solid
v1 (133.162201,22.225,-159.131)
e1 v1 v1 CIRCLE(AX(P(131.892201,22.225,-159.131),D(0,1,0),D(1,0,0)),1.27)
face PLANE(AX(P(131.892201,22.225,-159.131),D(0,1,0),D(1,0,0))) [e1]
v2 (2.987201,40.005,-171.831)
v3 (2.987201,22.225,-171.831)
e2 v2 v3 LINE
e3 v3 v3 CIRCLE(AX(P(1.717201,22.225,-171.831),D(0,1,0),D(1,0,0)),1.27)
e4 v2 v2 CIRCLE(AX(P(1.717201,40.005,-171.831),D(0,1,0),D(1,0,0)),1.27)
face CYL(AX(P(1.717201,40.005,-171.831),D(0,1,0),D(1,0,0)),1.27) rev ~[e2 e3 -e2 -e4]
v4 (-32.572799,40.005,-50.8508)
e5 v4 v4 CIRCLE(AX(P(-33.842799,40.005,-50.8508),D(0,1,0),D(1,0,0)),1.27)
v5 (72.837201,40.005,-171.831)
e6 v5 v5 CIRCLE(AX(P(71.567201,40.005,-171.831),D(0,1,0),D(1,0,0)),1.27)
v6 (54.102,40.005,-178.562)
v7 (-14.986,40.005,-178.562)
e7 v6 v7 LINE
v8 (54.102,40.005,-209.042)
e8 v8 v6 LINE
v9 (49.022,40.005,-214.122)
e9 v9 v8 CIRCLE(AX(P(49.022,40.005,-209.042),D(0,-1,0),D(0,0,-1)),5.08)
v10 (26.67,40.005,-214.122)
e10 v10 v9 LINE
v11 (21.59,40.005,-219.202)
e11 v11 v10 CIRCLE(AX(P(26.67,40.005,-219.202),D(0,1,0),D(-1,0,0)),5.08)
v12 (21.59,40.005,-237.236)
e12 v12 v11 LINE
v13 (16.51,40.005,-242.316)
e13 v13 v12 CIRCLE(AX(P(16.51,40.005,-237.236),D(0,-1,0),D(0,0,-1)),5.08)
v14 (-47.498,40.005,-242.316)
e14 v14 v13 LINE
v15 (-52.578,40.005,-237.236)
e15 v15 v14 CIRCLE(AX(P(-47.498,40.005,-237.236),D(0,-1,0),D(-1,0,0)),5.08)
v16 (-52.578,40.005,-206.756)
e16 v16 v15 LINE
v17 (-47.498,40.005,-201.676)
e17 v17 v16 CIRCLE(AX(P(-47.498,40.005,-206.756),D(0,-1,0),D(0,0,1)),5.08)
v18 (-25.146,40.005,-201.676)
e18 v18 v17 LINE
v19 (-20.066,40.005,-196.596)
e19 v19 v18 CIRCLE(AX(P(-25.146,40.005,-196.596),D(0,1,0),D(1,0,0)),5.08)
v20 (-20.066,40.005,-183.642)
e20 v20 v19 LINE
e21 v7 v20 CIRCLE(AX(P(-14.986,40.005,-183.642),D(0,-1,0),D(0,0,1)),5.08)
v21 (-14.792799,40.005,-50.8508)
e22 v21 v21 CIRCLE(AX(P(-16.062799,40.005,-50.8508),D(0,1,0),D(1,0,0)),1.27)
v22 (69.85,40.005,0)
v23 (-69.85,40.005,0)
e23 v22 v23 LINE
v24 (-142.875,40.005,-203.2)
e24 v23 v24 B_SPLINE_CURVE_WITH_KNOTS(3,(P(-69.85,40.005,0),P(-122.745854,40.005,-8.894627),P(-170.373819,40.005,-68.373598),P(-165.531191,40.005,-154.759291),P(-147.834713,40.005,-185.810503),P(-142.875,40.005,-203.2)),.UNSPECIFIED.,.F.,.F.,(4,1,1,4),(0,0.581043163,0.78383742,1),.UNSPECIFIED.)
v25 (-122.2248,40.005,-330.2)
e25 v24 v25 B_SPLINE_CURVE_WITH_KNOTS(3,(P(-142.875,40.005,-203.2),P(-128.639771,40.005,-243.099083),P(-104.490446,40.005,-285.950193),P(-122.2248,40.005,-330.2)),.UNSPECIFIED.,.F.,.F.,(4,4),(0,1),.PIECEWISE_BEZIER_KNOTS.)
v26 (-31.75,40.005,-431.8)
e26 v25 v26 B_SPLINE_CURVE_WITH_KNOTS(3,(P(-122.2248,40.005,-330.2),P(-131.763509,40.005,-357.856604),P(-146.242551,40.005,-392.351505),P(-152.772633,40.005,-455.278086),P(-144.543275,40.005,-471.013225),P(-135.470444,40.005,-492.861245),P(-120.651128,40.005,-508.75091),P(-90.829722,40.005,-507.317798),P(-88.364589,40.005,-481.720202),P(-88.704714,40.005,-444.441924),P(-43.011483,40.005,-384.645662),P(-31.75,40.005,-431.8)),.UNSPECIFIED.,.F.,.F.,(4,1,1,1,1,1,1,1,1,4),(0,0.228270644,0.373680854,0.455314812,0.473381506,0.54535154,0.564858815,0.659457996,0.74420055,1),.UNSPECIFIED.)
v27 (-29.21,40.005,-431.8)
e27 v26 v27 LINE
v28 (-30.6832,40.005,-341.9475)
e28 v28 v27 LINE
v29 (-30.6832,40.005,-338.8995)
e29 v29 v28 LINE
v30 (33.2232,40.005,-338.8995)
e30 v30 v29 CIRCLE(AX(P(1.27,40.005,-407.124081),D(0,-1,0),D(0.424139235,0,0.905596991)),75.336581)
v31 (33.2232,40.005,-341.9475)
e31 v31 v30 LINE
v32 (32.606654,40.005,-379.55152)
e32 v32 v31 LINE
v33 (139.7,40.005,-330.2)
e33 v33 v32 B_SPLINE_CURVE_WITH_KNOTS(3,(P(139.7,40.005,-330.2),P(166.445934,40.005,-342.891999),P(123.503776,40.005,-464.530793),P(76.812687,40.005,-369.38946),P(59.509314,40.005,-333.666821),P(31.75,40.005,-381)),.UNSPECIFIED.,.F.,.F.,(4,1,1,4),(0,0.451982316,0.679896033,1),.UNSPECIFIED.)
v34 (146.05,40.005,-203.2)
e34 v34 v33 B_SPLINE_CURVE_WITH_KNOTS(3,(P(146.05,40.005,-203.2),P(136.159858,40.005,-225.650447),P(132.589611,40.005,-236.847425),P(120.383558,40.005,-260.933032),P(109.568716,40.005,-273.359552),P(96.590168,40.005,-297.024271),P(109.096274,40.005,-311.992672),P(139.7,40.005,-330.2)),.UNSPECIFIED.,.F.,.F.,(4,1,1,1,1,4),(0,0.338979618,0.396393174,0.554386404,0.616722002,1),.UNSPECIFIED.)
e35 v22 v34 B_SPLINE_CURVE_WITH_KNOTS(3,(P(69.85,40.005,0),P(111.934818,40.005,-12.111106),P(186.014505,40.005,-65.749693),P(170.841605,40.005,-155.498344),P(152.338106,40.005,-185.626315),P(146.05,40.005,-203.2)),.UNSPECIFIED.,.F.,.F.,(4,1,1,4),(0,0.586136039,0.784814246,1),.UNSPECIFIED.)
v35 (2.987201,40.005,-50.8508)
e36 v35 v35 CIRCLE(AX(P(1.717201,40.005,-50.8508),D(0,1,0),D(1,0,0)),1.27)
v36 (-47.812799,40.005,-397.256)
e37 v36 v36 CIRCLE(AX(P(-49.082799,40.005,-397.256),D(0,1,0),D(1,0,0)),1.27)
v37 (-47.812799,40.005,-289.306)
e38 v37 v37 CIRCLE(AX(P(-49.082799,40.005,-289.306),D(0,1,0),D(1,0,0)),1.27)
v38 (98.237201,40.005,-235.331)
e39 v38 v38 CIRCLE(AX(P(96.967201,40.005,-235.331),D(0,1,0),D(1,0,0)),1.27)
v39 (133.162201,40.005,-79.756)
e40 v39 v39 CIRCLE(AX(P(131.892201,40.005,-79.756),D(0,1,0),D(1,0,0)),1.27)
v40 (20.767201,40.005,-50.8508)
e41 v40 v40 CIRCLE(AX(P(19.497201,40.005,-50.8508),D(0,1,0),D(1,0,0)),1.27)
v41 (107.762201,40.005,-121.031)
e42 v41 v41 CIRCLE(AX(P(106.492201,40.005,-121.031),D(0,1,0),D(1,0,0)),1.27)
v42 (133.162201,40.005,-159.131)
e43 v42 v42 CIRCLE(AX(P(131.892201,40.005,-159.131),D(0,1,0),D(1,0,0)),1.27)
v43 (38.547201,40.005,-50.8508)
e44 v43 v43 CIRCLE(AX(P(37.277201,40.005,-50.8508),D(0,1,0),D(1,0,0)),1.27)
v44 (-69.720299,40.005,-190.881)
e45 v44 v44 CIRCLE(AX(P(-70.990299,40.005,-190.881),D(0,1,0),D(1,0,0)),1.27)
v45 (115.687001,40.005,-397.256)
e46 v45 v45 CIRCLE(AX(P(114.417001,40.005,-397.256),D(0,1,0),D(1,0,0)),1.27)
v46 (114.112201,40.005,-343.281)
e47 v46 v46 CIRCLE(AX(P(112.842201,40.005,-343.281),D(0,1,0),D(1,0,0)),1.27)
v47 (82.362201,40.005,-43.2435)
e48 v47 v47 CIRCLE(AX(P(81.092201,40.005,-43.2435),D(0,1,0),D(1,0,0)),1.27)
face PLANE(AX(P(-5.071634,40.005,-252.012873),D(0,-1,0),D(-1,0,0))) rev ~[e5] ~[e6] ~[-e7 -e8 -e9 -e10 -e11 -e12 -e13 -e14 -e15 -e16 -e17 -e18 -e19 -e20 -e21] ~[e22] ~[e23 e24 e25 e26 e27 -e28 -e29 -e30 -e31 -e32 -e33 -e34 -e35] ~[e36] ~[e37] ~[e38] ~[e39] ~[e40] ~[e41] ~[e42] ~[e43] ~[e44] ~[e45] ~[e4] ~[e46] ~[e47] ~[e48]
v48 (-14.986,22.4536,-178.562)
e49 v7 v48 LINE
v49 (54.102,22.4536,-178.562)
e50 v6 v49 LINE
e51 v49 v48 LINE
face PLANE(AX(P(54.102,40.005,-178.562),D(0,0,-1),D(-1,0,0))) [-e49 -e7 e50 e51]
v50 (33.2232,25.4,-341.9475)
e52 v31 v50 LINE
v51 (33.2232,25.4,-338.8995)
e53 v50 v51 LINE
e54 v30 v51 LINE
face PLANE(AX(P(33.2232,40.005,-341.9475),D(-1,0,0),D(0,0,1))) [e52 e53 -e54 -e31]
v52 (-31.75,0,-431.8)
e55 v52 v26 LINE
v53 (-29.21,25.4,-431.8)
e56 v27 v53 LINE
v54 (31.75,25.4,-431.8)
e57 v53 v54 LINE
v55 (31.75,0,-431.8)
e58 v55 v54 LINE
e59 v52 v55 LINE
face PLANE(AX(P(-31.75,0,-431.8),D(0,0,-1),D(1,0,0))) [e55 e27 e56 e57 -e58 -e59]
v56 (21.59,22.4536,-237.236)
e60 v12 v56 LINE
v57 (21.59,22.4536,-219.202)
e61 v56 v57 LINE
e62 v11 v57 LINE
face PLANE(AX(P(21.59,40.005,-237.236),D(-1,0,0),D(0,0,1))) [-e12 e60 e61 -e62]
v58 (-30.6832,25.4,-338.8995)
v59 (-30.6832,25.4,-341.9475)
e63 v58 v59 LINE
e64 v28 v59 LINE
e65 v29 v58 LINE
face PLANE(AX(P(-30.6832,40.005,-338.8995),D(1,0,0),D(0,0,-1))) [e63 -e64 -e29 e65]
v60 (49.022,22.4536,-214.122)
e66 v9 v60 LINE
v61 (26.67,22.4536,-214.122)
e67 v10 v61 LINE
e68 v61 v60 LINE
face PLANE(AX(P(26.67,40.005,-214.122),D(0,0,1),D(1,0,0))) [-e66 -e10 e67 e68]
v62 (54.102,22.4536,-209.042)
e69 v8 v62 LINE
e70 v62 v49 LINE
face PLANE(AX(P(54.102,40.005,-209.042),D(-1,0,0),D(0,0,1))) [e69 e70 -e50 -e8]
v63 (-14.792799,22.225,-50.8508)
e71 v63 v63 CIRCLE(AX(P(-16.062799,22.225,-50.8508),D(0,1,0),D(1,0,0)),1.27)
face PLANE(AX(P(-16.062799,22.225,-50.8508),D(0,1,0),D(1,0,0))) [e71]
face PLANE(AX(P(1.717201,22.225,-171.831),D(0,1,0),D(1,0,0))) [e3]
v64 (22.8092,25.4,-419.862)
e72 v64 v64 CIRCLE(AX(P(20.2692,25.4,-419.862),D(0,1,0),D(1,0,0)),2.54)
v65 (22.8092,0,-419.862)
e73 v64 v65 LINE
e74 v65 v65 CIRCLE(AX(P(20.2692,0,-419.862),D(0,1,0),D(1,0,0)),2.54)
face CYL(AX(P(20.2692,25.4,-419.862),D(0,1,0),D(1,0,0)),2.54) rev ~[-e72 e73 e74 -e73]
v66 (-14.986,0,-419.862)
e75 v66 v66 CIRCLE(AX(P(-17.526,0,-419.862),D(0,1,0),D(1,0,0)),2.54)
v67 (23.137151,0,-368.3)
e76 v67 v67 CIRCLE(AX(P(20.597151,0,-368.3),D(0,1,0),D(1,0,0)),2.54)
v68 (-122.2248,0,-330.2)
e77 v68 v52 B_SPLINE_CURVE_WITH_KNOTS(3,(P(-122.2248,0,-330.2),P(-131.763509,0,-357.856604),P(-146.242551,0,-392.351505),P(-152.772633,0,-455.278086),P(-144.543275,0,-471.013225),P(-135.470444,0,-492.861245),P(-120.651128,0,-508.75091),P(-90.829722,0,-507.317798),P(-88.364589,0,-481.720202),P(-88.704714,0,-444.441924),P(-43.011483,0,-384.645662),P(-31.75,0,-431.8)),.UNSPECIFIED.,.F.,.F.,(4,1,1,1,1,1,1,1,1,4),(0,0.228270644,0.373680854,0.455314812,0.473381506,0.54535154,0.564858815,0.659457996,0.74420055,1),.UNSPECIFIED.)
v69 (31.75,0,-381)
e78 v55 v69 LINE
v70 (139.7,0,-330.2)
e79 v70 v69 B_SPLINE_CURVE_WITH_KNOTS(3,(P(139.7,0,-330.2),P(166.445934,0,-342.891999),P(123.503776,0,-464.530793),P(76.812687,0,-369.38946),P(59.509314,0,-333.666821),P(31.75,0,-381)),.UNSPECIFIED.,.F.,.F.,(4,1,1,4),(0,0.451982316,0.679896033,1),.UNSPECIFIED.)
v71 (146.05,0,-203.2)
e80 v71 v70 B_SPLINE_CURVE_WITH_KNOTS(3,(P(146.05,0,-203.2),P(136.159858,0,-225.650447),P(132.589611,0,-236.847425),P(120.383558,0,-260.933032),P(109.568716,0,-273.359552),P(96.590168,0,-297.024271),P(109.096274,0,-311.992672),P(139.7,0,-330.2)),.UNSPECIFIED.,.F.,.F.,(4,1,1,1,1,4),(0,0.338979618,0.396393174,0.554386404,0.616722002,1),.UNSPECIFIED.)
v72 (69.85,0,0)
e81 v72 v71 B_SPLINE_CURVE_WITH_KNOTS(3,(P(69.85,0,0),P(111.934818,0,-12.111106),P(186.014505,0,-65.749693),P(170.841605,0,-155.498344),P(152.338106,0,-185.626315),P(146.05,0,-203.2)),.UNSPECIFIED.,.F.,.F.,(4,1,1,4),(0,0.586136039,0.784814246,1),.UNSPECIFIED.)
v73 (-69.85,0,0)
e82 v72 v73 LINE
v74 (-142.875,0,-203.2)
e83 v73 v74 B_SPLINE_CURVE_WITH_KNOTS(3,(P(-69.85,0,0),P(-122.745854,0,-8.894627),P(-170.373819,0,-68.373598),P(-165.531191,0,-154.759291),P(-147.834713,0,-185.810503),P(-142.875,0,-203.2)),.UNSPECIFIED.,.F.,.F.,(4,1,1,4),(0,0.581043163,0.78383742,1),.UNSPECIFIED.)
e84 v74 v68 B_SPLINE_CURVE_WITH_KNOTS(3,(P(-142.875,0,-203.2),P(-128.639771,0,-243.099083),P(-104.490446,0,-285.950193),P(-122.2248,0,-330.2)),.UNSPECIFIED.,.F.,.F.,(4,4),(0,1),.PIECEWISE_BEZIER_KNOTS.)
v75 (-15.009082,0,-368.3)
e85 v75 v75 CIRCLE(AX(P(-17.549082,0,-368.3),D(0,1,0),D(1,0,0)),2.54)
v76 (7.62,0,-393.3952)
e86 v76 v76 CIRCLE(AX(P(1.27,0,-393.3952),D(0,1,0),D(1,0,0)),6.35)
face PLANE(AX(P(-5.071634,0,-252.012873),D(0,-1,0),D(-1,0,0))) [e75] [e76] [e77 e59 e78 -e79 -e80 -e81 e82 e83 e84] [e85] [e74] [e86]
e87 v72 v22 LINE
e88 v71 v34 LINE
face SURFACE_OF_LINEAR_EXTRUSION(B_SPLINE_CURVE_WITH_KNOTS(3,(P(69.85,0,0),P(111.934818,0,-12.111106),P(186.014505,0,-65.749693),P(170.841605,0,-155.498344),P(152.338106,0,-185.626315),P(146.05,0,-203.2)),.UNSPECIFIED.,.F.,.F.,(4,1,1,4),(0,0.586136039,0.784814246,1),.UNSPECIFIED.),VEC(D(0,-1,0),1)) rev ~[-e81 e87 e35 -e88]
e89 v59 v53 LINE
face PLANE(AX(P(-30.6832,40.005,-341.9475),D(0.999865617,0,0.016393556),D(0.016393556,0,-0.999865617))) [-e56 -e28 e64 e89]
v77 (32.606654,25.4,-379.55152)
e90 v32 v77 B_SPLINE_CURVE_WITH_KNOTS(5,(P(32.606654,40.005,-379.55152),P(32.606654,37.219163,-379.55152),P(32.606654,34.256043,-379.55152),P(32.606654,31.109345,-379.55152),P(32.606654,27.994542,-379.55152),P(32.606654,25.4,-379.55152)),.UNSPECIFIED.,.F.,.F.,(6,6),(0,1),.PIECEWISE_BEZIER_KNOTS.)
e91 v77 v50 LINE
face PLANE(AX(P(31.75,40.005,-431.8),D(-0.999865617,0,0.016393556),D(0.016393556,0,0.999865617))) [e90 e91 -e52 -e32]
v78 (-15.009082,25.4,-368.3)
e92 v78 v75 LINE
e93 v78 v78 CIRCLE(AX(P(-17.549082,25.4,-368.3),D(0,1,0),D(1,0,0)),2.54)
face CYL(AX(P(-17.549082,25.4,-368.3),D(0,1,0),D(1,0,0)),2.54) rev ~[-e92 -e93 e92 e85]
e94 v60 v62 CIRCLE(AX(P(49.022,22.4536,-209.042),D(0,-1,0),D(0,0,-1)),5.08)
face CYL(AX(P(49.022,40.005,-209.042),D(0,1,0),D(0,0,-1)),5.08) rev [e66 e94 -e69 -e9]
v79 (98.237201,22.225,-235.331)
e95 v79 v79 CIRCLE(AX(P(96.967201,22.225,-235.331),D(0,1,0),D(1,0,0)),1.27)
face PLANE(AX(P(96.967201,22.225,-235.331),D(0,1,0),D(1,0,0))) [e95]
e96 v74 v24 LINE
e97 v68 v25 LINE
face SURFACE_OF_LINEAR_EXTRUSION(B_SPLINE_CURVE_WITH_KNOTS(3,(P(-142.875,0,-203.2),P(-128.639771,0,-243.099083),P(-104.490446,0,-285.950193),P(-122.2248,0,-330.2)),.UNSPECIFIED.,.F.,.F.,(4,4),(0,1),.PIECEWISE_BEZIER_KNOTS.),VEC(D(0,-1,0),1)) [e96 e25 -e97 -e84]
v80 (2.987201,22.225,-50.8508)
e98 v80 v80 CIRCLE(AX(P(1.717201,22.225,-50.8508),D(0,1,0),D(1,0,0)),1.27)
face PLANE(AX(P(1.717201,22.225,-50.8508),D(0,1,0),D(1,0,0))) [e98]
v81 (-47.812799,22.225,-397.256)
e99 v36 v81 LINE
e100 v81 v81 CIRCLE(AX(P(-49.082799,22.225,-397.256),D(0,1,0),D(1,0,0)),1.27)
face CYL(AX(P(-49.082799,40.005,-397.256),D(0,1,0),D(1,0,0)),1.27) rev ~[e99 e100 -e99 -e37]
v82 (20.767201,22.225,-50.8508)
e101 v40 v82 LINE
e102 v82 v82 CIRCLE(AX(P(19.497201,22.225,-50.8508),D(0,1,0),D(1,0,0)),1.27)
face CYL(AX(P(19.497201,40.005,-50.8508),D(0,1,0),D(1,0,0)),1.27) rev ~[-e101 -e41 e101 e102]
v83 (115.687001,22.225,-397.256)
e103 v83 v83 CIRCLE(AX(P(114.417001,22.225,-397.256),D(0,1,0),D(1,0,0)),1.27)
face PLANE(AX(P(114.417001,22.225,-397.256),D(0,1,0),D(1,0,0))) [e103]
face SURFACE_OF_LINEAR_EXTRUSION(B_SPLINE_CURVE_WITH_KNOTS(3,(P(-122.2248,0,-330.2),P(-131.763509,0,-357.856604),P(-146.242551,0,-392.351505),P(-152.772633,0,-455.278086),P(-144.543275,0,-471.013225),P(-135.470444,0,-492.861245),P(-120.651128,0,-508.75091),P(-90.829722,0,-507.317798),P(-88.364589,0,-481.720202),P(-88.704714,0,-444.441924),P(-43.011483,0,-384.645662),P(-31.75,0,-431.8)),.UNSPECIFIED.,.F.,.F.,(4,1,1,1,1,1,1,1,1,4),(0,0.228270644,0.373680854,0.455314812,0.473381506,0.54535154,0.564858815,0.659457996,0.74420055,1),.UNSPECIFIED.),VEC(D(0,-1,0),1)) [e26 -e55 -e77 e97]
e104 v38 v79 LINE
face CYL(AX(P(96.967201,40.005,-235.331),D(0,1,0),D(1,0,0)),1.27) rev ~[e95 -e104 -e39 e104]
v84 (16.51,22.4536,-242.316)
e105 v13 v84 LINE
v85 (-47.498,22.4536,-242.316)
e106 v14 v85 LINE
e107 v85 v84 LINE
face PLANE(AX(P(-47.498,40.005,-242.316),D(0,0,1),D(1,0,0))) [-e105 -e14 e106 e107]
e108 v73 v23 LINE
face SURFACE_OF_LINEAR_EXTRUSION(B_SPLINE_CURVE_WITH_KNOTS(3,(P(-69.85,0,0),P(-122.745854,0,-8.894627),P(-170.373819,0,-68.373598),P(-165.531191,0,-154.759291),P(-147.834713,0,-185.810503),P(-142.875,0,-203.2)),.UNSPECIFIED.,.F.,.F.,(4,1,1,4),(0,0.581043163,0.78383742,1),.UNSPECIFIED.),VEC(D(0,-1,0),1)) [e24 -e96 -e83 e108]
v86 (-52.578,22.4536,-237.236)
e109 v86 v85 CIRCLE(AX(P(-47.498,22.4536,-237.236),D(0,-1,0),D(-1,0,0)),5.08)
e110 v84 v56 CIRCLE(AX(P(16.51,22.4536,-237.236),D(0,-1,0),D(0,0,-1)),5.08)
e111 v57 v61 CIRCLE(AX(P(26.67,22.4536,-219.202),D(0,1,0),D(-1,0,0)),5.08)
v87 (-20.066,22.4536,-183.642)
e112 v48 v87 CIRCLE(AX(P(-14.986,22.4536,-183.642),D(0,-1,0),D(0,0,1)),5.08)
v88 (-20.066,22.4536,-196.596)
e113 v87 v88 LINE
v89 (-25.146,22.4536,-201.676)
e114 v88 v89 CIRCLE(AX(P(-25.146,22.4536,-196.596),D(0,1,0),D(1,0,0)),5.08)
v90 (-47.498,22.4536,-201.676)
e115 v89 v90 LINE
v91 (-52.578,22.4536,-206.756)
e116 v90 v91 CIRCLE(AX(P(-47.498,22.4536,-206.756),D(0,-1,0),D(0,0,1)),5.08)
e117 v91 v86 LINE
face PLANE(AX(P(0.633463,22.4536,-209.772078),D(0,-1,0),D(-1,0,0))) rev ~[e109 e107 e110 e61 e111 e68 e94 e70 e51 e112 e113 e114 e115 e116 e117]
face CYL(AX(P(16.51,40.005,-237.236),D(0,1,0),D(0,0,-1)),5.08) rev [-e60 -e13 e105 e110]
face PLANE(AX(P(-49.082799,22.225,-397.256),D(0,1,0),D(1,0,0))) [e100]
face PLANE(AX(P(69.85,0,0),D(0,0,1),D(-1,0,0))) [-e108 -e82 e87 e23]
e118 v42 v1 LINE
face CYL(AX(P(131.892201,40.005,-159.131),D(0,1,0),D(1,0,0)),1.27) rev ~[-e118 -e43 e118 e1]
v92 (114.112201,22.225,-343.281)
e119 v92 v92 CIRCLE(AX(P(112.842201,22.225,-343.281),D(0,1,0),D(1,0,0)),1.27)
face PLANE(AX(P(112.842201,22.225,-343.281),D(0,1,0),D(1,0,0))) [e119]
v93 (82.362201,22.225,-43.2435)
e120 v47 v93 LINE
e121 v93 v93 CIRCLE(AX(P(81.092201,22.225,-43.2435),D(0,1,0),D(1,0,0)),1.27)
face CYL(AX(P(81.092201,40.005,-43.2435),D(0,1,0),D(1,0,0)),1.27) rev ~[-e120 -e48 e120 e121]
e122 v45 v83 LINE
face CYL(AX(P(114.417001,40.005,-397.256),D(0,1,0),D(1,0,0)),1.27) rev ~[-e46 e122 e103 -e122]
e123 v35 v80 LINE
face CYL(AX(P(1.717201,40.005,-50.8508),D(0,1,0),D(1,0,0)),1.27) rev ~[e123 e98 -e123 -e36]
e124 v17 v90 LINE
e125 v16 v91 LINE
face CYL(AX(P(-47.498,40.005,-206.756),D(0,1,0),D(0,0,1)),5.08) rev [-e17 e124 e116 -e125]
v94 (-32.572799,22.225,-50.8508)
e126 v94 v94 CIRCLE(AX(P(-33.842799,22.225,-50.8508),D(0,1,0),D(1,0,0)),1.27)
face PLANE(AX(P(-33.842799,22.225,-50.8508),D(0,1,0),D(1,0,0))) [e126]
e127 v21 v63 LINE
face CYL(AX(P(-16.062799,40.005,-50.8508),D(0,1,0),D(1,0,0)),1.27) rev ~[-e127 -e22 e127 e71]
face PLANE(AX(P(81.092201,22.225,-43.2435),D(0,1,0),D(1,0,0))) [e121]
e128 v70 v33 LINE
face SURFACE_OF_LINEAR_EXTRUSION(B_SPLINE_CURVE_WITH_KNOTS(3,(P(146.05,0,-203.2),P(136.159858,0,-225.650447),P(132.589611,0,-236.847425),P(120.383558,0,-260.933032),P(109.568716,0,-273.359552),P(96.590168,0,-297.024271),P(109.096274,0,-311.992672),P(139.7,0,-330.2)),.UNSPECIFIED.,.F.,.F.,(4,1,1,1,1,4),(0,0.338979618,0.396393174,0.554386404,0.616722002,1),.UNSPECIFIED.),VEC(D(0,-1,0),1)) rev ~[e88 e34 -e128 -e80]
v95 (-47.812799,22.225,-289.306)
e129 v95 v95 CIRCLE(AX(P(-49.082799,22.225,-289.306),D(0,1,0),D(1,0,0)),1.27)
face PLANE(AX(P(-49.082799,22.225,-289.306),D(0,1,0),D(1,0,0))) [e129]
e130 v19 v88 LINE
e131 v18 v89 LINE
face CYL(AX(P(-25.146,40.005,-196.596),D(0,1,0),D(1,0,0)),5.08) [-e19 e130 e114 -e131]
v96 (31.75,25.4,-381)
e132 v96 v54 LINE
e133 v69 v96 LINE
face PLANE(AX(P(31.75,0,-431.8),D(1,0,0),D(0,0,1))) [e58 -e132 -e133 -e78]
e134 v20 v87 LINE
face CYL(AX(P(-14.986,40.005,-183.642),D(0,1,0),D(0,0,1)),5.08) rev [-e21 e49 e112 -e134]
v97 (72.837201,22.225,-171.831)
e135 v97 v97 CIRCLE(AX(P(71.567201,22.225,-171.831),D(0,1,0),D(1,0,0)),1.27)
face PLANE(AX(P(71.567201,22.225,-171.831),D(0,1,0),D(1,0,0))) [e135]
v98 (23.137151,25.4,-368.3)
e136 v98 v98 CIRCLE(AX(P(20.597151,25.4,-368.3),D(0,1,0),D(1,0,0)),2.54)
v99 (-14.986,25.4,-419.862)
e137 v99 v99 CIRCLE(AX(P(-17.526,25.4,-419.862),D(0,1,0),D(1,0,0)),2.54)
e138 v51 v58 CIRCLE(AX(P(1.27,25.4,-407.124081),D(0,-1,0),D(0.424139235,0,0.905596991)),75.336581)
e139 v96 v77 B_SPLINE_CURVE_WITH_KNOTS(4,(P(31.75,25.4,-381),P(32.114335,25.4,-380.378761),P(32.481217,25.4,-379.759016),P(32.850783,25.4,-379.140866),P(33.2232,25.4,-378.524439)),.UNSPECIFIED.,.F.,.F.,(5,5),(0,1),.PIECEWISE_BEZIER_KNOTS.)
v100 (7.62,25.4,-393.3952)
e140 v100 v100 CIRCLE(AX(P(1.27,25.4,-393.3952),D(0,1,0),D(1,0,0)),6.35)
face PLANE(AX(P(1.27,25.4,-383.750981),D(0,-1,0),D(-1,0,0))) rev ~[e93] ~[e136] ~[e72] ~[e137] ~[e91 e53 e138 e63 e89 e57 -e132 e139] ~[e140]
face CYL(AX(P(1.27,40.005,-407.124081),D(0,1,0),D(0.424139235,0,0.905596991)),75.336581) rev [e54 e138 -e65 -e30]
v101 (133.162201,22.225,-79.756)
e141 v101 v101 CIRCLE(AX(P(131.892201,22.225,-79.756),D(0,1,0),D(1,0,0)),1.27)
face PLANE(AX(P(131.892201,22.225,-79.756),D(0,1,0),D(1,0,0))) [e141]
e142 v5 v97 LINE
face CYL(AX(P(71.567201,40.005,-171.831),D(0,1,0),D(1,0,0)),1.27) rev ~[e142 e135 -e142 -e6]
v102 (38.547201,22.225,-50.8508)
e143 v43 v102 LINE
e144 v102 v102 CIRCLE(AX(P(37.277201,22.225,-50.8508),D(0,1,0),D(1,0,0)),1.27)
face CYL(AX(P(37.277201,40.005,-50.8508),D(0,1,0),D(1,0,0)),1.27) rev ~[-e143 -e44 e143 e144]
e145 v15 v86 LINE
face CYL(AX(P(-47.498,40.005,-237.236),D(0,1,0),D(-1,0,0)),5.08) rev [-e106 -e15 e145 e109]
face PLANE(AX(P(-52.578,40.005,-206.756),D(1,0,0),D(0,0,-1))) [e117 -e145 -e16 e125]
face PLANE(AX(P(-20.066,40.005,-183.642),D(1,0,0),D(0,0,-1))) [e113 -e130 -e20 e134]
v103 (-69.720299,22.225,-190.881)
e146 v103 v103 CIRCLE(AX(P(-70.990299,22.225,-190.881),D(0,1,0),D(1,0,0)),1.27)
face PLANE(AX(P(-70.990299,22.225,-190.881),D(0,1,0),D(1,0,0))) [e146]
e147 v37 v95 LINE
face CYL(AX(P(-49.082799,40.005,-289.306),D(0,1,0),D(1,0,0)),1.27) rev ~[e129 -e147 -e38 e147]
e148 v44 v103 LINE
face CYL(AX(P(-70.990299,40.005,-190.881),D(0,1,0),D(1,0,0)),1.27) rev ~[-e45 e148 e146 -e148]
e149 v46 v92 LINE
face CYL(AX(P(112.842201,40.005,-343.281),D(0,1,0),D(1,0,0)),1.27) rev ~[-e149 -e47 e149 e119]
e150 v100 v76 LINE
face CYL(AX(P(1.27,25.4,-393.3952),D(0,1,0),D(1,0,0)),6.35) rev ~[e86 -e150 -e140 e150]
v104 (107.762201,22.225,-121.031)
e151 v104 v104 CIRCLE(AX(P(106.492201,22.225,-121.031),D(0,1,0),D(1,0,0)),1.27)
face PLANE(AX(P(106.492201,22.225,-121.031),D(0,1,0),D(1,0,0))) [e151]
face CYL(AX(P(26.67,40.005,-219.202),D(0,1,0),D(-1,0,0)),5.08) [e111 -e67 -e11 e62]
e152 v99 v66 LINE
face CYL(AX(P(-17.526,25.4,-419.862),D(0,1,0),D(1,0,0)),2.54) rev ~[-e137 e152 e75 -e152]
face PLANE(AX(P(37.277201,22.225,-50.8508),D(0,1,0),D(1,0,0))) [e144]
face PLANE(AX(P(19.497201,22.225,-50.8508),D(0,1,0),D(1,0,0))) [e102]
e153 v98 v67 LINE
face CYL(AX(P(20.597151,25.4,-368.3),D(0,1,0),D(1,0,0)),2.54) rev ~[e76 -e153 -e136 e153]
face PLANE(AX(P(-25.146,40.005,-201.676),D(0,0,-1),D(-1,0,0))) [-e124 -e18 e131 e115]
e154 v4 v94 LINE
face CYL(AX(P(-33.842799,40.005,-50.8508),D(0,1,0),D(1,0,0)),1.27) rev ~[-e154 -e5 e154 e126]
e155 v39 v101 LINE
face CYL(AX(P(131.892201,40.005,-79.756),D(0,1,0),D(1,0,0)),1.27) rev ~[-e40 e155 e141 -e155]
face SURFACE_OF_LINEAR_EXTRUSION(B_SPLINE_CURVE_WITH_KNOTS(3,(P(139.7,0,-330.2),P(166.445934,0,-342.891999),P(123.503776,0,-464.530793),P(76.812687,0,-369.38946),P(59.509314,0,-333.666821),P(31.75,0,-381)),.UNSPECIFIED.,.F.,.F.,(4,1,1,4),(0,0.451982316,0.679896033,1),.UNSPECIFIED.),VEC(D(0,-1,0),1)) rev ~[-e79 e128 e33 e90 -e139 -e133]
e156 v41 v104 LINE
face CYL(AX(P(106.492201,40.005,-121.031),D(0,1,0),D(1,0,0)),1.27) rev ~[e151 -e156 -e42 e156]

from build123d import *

# Parameters (mm, degrees)
BOSS_EXTRUDE1_DEPTH = 40.005
CUT_EXTRUDE1_DEPTH  = 14.605
SKETCH3_R           = 6.35
SKETCH3_R_2         = 2.54
CUT_EXTRUDE2_DEPTH  = 26.4000001
CUT_EXTRUDE3_DEPTH  = 17.5514
SKETCH5_R           = 1.27
CUT_EXTRUDE4_DEPTH  = 17.78


with BuildPart() as part:
    # Sketch1 → Boss-Extrude1 (new body)
    with BuildSketch(Plane(origin=(0, 0, 0), x_dir=(1, 0, 0), z_dir=(0, 1, 0))):
        with BuildLine():
            Line((-31.75, 431.8), (31.75, 431.8))
            Line((31.75, 431.8), (31.75, 381))
            add(Edge.make_bspline(
                [(139.7, 330.2), (166.445933937, 342.89199921), (123.503776034, 464.530793204), (76.812686628, 369.38946014), (59.509313942, 333.666820551), (31.75, 381)],
                knots=[0, 0, 0, 0, 0.451982316, 0.679896033, 1, 1, 1, 1], degree=3))
            add(Edge.make_bspline(
                [(146.05, 203.2), (136.159858324, 225.650446788), (132.589610525, 236.847424982), (120.383558334, 260.933031596), (109.568716266, 273.359552136), (96.590167779, 297.02427137), (109.096273913, 311.992671669), (139.7, 330.2)],
                knots=[0, 0, 0, 0, 0.338979618, 0.396393174, 0.554386404, 0.616722002, 1, 1, 1, 1], degree=3))
            add(Edge.make_bspline(
                [(69.85, 0), (111.934817577, 12.111106324), (186.014505262, 65.749693466), (170.841604559, 155.498343774), (152.338106065, 185.626315347), (146.05, 203.2)],
                knots=[0, 0, 0, 0, 0.586136039, 0.784814246, 1, 1, 1, 1], degree=3))
            Line((69.85, 0), (-69.85, 0))
            add(Edge.make_bspline(
                [(-69.85, 0), (-122.745853908, 8.894627237), (-170.373818617, 68.373598191), (-165.531190573, 154.759290659), (-147.834713243, 185.810503286), (-142.875, 203.2)],
                knots=[0, 0, 0, 0, 0.581043163, 0.78383742, 1, 1, 1, 1], degree=3))
            add(Edge.make_bspline(
                [(-142.875, 203.2), (-128.639770906, 243.099083108), (-104.490445622, 285.950192917), (-122.2248, 330.2)],
                knots=[0, 0, 0, 0, 1, 1, 1, 1], degree=3))
            add(Edge.make_bspline(
                [(-122.2248, 330.2), (-131.763508886, 357.856604277), (-146.2425508, 392.351504834), (-152.772633421, 455.278086227), (-144.543275129, 471.013225285), (-135.470443556, 492.861244858), (-120.651127827, 508.750910027), (-90.829721956, 507.317797539), (-88.364588713, 481.720202384), (-88.704714068, 444.441923985), (-43.011483466, 384.645662013), (-31.75, 431.8)],
                knots=[0, 0, 0, 0, 0.228270644, 0.373680854, 0.455314812, 0.473381506, 0.54535154, 0.564858815, 0.659457996, 0.74420055, 1, 1, 1, 1], degree=3))
        make_face()
    extrude(amount=BOSS_EXTRUDE1_DEPTH)

    # Sketch2 → Cut-Extrude1 (cut)
    with BuildSketch(Plane(origin=(0, 40.005, 0), x_dir=(1, 0, 0), z_dir=(0, 1, 0))):
        with BuildLine():
            Line((-29.21, 431.8), (31.75, 431.8))
            Line((31.75, 431.8), (33.2232, 341.9475))
            Line((33.2232, 341.9475), (33.2232, 338.8995))
            ThreePointArc((33.2232, 338.8995), (1.27, 331.7875), (-30.6832, 338.8995))
            Line((-30.6832, 338.8995), (-30.6832, 341.9475))
            Line((-30.6832, 341.9475), (-29.21, 431.8))
        make_face()
    extrude(amount=-CUT_EXTRUDE1_DEPTH, mode=Mode.SUBTRACT)

    # Sketch3 → Cut-Extrude2 (cut, through all)
    with BuildSketch(Plane(origin=(0, 25.4, 0), x_dir=(1, 0, 0), z_dir=(0, 1, 0))):
        with Locations((1.27, 393.3952)):
            Circle(SKETCH3_R)
        with Locations((-17.526, 419.862)):
            Circle(SKETCH3_R_2)
        with Locations((20.2692, 419.862)):
            Circle(SKETCH3_R_2)
        with Locations((20.59715074, 368.3)):
            Circle(SKETCH3_R_2)
        with Locations((-17.549082464, 368.3)):
            Circle(SKETCH3_R_2)
    extrude(amount=-CUT_EXTRUDE2_DEPTH, mode=Mode.SUBTRACT)

    # Sketch4 → Cut-Extrude3 (cut)
    with BuildSketch(Plane(origin=(0, 40.005, 0), x_dir=(1, 0, 0), z_dir=(0, 1, 0))):
        with BuildLine():
            Line((-47.498, 242.316), (16.51, 242.316))
            ThreePointArc((16.51, 242.316), (20.102102448, 240.828102448), (21.59, 237.236))
            Line((21.59, 237.236), (21.59, 219.202))
            ThreePointArc((21.59, 219.202), (23.077897552, 215.609897552), (26.67, 214.122))
            Line((26.67, 214.122), (49.022, 214.122))
            ThreePointArc((49.022, 214.122), (52.614102448, 212.634102448), (54.102, 209.042))
            Line((54.102, 209.042), (54.102, 178.562))
            Line((54.102, 178.562), (-14.986, 178.562))
            ThreePointArc((-14.986, 178.562), (-18.578102448, 180.049897552), (-20.066, 183.642))
            Line((-20.066, 183.642), (-20.066, 196.596))
            ThreePointArc((-20.066, 196.596), (-21.553897552, 200.188102448), (-25.146, 201.676))
            Line((-25.146, 201.676), (-47.498, 201.676))
            ThreePointArc((-47.498, 201.676), (-51.090102448, 203.163897552), (-52.578, 206.756))
            Line((-52.578, 206.756), (-52.578, 237.236))
            ThreePointArc((-52.578, 237.236), (-51.090102448, 240.828102448), (-47.498, 242.316))
        make_face()
    extrude(amount=-CUT_EXTRUDE3_DEPTH, mode=Mode.SUBTRACT)

    # Sketch5 → Cut-Extrude4 (cut)
    with BuildSketch(Plane(origin=(0, 40.005, 0), x_dir=(1, 0, 0), z_dir=(0, 1, 0))):
        with Locations((-49.082798919, 397.256)):
            Circle(SKETCH5_R)
        with Locations((-49.082798919, 289.306)):
            Circle(SKETCH5_R)
        with Locations((-70.990298919, 190.881)):
            Circle(SKETCH5_R)
        with Locations((112.842201081, 343.281)):
            Circle(SKETCH5_R)
        with Locations((114.417001081, 397.256)):
            Circle(SKETCH5_R)
        with Locations((96.967201081, 235.331)):
            Circle(SKETCH5_R)
        with Locations((131.892201081, 159.131)):
            Circle(SKETCH5_R)
        with Locations((131.892201081, 79.756)):
            Circle(SKETCH5_R)
        with Locations((81.092201081, 43.2435)):
            Circle(SKETCH5_R)
        with Locations((106.492201081, 121.031)):
            Circle(SKETCH5_R)
        with Locations((71.567201081, 171.831)):
            Circle(SKETCH5_R)
        with Locations((-33.842798919, 50.8508)):
            Circle(SKETCH5_R)
        with Locations((-16.062798919, 50.8508)):
            Circle(SKETCH5_R)
        with Locations((1.717201081, 50.8508)):
            Circle(SKETCH5_R)
        with Locations((19.497201081, 50.8508)):
            Circle(SKETCH5_R)
        with Locations((37.277201081, 50.8508)):
            Circle(SKETCH5_R)
        with Locations((1.717201081, 171.831)):
            Circle(SKETCH5_R)
    extrude(amount=-CUT_EXTRUDE4_DEPTH, mode=Mode.SUBTRACT)


solid = part.part
